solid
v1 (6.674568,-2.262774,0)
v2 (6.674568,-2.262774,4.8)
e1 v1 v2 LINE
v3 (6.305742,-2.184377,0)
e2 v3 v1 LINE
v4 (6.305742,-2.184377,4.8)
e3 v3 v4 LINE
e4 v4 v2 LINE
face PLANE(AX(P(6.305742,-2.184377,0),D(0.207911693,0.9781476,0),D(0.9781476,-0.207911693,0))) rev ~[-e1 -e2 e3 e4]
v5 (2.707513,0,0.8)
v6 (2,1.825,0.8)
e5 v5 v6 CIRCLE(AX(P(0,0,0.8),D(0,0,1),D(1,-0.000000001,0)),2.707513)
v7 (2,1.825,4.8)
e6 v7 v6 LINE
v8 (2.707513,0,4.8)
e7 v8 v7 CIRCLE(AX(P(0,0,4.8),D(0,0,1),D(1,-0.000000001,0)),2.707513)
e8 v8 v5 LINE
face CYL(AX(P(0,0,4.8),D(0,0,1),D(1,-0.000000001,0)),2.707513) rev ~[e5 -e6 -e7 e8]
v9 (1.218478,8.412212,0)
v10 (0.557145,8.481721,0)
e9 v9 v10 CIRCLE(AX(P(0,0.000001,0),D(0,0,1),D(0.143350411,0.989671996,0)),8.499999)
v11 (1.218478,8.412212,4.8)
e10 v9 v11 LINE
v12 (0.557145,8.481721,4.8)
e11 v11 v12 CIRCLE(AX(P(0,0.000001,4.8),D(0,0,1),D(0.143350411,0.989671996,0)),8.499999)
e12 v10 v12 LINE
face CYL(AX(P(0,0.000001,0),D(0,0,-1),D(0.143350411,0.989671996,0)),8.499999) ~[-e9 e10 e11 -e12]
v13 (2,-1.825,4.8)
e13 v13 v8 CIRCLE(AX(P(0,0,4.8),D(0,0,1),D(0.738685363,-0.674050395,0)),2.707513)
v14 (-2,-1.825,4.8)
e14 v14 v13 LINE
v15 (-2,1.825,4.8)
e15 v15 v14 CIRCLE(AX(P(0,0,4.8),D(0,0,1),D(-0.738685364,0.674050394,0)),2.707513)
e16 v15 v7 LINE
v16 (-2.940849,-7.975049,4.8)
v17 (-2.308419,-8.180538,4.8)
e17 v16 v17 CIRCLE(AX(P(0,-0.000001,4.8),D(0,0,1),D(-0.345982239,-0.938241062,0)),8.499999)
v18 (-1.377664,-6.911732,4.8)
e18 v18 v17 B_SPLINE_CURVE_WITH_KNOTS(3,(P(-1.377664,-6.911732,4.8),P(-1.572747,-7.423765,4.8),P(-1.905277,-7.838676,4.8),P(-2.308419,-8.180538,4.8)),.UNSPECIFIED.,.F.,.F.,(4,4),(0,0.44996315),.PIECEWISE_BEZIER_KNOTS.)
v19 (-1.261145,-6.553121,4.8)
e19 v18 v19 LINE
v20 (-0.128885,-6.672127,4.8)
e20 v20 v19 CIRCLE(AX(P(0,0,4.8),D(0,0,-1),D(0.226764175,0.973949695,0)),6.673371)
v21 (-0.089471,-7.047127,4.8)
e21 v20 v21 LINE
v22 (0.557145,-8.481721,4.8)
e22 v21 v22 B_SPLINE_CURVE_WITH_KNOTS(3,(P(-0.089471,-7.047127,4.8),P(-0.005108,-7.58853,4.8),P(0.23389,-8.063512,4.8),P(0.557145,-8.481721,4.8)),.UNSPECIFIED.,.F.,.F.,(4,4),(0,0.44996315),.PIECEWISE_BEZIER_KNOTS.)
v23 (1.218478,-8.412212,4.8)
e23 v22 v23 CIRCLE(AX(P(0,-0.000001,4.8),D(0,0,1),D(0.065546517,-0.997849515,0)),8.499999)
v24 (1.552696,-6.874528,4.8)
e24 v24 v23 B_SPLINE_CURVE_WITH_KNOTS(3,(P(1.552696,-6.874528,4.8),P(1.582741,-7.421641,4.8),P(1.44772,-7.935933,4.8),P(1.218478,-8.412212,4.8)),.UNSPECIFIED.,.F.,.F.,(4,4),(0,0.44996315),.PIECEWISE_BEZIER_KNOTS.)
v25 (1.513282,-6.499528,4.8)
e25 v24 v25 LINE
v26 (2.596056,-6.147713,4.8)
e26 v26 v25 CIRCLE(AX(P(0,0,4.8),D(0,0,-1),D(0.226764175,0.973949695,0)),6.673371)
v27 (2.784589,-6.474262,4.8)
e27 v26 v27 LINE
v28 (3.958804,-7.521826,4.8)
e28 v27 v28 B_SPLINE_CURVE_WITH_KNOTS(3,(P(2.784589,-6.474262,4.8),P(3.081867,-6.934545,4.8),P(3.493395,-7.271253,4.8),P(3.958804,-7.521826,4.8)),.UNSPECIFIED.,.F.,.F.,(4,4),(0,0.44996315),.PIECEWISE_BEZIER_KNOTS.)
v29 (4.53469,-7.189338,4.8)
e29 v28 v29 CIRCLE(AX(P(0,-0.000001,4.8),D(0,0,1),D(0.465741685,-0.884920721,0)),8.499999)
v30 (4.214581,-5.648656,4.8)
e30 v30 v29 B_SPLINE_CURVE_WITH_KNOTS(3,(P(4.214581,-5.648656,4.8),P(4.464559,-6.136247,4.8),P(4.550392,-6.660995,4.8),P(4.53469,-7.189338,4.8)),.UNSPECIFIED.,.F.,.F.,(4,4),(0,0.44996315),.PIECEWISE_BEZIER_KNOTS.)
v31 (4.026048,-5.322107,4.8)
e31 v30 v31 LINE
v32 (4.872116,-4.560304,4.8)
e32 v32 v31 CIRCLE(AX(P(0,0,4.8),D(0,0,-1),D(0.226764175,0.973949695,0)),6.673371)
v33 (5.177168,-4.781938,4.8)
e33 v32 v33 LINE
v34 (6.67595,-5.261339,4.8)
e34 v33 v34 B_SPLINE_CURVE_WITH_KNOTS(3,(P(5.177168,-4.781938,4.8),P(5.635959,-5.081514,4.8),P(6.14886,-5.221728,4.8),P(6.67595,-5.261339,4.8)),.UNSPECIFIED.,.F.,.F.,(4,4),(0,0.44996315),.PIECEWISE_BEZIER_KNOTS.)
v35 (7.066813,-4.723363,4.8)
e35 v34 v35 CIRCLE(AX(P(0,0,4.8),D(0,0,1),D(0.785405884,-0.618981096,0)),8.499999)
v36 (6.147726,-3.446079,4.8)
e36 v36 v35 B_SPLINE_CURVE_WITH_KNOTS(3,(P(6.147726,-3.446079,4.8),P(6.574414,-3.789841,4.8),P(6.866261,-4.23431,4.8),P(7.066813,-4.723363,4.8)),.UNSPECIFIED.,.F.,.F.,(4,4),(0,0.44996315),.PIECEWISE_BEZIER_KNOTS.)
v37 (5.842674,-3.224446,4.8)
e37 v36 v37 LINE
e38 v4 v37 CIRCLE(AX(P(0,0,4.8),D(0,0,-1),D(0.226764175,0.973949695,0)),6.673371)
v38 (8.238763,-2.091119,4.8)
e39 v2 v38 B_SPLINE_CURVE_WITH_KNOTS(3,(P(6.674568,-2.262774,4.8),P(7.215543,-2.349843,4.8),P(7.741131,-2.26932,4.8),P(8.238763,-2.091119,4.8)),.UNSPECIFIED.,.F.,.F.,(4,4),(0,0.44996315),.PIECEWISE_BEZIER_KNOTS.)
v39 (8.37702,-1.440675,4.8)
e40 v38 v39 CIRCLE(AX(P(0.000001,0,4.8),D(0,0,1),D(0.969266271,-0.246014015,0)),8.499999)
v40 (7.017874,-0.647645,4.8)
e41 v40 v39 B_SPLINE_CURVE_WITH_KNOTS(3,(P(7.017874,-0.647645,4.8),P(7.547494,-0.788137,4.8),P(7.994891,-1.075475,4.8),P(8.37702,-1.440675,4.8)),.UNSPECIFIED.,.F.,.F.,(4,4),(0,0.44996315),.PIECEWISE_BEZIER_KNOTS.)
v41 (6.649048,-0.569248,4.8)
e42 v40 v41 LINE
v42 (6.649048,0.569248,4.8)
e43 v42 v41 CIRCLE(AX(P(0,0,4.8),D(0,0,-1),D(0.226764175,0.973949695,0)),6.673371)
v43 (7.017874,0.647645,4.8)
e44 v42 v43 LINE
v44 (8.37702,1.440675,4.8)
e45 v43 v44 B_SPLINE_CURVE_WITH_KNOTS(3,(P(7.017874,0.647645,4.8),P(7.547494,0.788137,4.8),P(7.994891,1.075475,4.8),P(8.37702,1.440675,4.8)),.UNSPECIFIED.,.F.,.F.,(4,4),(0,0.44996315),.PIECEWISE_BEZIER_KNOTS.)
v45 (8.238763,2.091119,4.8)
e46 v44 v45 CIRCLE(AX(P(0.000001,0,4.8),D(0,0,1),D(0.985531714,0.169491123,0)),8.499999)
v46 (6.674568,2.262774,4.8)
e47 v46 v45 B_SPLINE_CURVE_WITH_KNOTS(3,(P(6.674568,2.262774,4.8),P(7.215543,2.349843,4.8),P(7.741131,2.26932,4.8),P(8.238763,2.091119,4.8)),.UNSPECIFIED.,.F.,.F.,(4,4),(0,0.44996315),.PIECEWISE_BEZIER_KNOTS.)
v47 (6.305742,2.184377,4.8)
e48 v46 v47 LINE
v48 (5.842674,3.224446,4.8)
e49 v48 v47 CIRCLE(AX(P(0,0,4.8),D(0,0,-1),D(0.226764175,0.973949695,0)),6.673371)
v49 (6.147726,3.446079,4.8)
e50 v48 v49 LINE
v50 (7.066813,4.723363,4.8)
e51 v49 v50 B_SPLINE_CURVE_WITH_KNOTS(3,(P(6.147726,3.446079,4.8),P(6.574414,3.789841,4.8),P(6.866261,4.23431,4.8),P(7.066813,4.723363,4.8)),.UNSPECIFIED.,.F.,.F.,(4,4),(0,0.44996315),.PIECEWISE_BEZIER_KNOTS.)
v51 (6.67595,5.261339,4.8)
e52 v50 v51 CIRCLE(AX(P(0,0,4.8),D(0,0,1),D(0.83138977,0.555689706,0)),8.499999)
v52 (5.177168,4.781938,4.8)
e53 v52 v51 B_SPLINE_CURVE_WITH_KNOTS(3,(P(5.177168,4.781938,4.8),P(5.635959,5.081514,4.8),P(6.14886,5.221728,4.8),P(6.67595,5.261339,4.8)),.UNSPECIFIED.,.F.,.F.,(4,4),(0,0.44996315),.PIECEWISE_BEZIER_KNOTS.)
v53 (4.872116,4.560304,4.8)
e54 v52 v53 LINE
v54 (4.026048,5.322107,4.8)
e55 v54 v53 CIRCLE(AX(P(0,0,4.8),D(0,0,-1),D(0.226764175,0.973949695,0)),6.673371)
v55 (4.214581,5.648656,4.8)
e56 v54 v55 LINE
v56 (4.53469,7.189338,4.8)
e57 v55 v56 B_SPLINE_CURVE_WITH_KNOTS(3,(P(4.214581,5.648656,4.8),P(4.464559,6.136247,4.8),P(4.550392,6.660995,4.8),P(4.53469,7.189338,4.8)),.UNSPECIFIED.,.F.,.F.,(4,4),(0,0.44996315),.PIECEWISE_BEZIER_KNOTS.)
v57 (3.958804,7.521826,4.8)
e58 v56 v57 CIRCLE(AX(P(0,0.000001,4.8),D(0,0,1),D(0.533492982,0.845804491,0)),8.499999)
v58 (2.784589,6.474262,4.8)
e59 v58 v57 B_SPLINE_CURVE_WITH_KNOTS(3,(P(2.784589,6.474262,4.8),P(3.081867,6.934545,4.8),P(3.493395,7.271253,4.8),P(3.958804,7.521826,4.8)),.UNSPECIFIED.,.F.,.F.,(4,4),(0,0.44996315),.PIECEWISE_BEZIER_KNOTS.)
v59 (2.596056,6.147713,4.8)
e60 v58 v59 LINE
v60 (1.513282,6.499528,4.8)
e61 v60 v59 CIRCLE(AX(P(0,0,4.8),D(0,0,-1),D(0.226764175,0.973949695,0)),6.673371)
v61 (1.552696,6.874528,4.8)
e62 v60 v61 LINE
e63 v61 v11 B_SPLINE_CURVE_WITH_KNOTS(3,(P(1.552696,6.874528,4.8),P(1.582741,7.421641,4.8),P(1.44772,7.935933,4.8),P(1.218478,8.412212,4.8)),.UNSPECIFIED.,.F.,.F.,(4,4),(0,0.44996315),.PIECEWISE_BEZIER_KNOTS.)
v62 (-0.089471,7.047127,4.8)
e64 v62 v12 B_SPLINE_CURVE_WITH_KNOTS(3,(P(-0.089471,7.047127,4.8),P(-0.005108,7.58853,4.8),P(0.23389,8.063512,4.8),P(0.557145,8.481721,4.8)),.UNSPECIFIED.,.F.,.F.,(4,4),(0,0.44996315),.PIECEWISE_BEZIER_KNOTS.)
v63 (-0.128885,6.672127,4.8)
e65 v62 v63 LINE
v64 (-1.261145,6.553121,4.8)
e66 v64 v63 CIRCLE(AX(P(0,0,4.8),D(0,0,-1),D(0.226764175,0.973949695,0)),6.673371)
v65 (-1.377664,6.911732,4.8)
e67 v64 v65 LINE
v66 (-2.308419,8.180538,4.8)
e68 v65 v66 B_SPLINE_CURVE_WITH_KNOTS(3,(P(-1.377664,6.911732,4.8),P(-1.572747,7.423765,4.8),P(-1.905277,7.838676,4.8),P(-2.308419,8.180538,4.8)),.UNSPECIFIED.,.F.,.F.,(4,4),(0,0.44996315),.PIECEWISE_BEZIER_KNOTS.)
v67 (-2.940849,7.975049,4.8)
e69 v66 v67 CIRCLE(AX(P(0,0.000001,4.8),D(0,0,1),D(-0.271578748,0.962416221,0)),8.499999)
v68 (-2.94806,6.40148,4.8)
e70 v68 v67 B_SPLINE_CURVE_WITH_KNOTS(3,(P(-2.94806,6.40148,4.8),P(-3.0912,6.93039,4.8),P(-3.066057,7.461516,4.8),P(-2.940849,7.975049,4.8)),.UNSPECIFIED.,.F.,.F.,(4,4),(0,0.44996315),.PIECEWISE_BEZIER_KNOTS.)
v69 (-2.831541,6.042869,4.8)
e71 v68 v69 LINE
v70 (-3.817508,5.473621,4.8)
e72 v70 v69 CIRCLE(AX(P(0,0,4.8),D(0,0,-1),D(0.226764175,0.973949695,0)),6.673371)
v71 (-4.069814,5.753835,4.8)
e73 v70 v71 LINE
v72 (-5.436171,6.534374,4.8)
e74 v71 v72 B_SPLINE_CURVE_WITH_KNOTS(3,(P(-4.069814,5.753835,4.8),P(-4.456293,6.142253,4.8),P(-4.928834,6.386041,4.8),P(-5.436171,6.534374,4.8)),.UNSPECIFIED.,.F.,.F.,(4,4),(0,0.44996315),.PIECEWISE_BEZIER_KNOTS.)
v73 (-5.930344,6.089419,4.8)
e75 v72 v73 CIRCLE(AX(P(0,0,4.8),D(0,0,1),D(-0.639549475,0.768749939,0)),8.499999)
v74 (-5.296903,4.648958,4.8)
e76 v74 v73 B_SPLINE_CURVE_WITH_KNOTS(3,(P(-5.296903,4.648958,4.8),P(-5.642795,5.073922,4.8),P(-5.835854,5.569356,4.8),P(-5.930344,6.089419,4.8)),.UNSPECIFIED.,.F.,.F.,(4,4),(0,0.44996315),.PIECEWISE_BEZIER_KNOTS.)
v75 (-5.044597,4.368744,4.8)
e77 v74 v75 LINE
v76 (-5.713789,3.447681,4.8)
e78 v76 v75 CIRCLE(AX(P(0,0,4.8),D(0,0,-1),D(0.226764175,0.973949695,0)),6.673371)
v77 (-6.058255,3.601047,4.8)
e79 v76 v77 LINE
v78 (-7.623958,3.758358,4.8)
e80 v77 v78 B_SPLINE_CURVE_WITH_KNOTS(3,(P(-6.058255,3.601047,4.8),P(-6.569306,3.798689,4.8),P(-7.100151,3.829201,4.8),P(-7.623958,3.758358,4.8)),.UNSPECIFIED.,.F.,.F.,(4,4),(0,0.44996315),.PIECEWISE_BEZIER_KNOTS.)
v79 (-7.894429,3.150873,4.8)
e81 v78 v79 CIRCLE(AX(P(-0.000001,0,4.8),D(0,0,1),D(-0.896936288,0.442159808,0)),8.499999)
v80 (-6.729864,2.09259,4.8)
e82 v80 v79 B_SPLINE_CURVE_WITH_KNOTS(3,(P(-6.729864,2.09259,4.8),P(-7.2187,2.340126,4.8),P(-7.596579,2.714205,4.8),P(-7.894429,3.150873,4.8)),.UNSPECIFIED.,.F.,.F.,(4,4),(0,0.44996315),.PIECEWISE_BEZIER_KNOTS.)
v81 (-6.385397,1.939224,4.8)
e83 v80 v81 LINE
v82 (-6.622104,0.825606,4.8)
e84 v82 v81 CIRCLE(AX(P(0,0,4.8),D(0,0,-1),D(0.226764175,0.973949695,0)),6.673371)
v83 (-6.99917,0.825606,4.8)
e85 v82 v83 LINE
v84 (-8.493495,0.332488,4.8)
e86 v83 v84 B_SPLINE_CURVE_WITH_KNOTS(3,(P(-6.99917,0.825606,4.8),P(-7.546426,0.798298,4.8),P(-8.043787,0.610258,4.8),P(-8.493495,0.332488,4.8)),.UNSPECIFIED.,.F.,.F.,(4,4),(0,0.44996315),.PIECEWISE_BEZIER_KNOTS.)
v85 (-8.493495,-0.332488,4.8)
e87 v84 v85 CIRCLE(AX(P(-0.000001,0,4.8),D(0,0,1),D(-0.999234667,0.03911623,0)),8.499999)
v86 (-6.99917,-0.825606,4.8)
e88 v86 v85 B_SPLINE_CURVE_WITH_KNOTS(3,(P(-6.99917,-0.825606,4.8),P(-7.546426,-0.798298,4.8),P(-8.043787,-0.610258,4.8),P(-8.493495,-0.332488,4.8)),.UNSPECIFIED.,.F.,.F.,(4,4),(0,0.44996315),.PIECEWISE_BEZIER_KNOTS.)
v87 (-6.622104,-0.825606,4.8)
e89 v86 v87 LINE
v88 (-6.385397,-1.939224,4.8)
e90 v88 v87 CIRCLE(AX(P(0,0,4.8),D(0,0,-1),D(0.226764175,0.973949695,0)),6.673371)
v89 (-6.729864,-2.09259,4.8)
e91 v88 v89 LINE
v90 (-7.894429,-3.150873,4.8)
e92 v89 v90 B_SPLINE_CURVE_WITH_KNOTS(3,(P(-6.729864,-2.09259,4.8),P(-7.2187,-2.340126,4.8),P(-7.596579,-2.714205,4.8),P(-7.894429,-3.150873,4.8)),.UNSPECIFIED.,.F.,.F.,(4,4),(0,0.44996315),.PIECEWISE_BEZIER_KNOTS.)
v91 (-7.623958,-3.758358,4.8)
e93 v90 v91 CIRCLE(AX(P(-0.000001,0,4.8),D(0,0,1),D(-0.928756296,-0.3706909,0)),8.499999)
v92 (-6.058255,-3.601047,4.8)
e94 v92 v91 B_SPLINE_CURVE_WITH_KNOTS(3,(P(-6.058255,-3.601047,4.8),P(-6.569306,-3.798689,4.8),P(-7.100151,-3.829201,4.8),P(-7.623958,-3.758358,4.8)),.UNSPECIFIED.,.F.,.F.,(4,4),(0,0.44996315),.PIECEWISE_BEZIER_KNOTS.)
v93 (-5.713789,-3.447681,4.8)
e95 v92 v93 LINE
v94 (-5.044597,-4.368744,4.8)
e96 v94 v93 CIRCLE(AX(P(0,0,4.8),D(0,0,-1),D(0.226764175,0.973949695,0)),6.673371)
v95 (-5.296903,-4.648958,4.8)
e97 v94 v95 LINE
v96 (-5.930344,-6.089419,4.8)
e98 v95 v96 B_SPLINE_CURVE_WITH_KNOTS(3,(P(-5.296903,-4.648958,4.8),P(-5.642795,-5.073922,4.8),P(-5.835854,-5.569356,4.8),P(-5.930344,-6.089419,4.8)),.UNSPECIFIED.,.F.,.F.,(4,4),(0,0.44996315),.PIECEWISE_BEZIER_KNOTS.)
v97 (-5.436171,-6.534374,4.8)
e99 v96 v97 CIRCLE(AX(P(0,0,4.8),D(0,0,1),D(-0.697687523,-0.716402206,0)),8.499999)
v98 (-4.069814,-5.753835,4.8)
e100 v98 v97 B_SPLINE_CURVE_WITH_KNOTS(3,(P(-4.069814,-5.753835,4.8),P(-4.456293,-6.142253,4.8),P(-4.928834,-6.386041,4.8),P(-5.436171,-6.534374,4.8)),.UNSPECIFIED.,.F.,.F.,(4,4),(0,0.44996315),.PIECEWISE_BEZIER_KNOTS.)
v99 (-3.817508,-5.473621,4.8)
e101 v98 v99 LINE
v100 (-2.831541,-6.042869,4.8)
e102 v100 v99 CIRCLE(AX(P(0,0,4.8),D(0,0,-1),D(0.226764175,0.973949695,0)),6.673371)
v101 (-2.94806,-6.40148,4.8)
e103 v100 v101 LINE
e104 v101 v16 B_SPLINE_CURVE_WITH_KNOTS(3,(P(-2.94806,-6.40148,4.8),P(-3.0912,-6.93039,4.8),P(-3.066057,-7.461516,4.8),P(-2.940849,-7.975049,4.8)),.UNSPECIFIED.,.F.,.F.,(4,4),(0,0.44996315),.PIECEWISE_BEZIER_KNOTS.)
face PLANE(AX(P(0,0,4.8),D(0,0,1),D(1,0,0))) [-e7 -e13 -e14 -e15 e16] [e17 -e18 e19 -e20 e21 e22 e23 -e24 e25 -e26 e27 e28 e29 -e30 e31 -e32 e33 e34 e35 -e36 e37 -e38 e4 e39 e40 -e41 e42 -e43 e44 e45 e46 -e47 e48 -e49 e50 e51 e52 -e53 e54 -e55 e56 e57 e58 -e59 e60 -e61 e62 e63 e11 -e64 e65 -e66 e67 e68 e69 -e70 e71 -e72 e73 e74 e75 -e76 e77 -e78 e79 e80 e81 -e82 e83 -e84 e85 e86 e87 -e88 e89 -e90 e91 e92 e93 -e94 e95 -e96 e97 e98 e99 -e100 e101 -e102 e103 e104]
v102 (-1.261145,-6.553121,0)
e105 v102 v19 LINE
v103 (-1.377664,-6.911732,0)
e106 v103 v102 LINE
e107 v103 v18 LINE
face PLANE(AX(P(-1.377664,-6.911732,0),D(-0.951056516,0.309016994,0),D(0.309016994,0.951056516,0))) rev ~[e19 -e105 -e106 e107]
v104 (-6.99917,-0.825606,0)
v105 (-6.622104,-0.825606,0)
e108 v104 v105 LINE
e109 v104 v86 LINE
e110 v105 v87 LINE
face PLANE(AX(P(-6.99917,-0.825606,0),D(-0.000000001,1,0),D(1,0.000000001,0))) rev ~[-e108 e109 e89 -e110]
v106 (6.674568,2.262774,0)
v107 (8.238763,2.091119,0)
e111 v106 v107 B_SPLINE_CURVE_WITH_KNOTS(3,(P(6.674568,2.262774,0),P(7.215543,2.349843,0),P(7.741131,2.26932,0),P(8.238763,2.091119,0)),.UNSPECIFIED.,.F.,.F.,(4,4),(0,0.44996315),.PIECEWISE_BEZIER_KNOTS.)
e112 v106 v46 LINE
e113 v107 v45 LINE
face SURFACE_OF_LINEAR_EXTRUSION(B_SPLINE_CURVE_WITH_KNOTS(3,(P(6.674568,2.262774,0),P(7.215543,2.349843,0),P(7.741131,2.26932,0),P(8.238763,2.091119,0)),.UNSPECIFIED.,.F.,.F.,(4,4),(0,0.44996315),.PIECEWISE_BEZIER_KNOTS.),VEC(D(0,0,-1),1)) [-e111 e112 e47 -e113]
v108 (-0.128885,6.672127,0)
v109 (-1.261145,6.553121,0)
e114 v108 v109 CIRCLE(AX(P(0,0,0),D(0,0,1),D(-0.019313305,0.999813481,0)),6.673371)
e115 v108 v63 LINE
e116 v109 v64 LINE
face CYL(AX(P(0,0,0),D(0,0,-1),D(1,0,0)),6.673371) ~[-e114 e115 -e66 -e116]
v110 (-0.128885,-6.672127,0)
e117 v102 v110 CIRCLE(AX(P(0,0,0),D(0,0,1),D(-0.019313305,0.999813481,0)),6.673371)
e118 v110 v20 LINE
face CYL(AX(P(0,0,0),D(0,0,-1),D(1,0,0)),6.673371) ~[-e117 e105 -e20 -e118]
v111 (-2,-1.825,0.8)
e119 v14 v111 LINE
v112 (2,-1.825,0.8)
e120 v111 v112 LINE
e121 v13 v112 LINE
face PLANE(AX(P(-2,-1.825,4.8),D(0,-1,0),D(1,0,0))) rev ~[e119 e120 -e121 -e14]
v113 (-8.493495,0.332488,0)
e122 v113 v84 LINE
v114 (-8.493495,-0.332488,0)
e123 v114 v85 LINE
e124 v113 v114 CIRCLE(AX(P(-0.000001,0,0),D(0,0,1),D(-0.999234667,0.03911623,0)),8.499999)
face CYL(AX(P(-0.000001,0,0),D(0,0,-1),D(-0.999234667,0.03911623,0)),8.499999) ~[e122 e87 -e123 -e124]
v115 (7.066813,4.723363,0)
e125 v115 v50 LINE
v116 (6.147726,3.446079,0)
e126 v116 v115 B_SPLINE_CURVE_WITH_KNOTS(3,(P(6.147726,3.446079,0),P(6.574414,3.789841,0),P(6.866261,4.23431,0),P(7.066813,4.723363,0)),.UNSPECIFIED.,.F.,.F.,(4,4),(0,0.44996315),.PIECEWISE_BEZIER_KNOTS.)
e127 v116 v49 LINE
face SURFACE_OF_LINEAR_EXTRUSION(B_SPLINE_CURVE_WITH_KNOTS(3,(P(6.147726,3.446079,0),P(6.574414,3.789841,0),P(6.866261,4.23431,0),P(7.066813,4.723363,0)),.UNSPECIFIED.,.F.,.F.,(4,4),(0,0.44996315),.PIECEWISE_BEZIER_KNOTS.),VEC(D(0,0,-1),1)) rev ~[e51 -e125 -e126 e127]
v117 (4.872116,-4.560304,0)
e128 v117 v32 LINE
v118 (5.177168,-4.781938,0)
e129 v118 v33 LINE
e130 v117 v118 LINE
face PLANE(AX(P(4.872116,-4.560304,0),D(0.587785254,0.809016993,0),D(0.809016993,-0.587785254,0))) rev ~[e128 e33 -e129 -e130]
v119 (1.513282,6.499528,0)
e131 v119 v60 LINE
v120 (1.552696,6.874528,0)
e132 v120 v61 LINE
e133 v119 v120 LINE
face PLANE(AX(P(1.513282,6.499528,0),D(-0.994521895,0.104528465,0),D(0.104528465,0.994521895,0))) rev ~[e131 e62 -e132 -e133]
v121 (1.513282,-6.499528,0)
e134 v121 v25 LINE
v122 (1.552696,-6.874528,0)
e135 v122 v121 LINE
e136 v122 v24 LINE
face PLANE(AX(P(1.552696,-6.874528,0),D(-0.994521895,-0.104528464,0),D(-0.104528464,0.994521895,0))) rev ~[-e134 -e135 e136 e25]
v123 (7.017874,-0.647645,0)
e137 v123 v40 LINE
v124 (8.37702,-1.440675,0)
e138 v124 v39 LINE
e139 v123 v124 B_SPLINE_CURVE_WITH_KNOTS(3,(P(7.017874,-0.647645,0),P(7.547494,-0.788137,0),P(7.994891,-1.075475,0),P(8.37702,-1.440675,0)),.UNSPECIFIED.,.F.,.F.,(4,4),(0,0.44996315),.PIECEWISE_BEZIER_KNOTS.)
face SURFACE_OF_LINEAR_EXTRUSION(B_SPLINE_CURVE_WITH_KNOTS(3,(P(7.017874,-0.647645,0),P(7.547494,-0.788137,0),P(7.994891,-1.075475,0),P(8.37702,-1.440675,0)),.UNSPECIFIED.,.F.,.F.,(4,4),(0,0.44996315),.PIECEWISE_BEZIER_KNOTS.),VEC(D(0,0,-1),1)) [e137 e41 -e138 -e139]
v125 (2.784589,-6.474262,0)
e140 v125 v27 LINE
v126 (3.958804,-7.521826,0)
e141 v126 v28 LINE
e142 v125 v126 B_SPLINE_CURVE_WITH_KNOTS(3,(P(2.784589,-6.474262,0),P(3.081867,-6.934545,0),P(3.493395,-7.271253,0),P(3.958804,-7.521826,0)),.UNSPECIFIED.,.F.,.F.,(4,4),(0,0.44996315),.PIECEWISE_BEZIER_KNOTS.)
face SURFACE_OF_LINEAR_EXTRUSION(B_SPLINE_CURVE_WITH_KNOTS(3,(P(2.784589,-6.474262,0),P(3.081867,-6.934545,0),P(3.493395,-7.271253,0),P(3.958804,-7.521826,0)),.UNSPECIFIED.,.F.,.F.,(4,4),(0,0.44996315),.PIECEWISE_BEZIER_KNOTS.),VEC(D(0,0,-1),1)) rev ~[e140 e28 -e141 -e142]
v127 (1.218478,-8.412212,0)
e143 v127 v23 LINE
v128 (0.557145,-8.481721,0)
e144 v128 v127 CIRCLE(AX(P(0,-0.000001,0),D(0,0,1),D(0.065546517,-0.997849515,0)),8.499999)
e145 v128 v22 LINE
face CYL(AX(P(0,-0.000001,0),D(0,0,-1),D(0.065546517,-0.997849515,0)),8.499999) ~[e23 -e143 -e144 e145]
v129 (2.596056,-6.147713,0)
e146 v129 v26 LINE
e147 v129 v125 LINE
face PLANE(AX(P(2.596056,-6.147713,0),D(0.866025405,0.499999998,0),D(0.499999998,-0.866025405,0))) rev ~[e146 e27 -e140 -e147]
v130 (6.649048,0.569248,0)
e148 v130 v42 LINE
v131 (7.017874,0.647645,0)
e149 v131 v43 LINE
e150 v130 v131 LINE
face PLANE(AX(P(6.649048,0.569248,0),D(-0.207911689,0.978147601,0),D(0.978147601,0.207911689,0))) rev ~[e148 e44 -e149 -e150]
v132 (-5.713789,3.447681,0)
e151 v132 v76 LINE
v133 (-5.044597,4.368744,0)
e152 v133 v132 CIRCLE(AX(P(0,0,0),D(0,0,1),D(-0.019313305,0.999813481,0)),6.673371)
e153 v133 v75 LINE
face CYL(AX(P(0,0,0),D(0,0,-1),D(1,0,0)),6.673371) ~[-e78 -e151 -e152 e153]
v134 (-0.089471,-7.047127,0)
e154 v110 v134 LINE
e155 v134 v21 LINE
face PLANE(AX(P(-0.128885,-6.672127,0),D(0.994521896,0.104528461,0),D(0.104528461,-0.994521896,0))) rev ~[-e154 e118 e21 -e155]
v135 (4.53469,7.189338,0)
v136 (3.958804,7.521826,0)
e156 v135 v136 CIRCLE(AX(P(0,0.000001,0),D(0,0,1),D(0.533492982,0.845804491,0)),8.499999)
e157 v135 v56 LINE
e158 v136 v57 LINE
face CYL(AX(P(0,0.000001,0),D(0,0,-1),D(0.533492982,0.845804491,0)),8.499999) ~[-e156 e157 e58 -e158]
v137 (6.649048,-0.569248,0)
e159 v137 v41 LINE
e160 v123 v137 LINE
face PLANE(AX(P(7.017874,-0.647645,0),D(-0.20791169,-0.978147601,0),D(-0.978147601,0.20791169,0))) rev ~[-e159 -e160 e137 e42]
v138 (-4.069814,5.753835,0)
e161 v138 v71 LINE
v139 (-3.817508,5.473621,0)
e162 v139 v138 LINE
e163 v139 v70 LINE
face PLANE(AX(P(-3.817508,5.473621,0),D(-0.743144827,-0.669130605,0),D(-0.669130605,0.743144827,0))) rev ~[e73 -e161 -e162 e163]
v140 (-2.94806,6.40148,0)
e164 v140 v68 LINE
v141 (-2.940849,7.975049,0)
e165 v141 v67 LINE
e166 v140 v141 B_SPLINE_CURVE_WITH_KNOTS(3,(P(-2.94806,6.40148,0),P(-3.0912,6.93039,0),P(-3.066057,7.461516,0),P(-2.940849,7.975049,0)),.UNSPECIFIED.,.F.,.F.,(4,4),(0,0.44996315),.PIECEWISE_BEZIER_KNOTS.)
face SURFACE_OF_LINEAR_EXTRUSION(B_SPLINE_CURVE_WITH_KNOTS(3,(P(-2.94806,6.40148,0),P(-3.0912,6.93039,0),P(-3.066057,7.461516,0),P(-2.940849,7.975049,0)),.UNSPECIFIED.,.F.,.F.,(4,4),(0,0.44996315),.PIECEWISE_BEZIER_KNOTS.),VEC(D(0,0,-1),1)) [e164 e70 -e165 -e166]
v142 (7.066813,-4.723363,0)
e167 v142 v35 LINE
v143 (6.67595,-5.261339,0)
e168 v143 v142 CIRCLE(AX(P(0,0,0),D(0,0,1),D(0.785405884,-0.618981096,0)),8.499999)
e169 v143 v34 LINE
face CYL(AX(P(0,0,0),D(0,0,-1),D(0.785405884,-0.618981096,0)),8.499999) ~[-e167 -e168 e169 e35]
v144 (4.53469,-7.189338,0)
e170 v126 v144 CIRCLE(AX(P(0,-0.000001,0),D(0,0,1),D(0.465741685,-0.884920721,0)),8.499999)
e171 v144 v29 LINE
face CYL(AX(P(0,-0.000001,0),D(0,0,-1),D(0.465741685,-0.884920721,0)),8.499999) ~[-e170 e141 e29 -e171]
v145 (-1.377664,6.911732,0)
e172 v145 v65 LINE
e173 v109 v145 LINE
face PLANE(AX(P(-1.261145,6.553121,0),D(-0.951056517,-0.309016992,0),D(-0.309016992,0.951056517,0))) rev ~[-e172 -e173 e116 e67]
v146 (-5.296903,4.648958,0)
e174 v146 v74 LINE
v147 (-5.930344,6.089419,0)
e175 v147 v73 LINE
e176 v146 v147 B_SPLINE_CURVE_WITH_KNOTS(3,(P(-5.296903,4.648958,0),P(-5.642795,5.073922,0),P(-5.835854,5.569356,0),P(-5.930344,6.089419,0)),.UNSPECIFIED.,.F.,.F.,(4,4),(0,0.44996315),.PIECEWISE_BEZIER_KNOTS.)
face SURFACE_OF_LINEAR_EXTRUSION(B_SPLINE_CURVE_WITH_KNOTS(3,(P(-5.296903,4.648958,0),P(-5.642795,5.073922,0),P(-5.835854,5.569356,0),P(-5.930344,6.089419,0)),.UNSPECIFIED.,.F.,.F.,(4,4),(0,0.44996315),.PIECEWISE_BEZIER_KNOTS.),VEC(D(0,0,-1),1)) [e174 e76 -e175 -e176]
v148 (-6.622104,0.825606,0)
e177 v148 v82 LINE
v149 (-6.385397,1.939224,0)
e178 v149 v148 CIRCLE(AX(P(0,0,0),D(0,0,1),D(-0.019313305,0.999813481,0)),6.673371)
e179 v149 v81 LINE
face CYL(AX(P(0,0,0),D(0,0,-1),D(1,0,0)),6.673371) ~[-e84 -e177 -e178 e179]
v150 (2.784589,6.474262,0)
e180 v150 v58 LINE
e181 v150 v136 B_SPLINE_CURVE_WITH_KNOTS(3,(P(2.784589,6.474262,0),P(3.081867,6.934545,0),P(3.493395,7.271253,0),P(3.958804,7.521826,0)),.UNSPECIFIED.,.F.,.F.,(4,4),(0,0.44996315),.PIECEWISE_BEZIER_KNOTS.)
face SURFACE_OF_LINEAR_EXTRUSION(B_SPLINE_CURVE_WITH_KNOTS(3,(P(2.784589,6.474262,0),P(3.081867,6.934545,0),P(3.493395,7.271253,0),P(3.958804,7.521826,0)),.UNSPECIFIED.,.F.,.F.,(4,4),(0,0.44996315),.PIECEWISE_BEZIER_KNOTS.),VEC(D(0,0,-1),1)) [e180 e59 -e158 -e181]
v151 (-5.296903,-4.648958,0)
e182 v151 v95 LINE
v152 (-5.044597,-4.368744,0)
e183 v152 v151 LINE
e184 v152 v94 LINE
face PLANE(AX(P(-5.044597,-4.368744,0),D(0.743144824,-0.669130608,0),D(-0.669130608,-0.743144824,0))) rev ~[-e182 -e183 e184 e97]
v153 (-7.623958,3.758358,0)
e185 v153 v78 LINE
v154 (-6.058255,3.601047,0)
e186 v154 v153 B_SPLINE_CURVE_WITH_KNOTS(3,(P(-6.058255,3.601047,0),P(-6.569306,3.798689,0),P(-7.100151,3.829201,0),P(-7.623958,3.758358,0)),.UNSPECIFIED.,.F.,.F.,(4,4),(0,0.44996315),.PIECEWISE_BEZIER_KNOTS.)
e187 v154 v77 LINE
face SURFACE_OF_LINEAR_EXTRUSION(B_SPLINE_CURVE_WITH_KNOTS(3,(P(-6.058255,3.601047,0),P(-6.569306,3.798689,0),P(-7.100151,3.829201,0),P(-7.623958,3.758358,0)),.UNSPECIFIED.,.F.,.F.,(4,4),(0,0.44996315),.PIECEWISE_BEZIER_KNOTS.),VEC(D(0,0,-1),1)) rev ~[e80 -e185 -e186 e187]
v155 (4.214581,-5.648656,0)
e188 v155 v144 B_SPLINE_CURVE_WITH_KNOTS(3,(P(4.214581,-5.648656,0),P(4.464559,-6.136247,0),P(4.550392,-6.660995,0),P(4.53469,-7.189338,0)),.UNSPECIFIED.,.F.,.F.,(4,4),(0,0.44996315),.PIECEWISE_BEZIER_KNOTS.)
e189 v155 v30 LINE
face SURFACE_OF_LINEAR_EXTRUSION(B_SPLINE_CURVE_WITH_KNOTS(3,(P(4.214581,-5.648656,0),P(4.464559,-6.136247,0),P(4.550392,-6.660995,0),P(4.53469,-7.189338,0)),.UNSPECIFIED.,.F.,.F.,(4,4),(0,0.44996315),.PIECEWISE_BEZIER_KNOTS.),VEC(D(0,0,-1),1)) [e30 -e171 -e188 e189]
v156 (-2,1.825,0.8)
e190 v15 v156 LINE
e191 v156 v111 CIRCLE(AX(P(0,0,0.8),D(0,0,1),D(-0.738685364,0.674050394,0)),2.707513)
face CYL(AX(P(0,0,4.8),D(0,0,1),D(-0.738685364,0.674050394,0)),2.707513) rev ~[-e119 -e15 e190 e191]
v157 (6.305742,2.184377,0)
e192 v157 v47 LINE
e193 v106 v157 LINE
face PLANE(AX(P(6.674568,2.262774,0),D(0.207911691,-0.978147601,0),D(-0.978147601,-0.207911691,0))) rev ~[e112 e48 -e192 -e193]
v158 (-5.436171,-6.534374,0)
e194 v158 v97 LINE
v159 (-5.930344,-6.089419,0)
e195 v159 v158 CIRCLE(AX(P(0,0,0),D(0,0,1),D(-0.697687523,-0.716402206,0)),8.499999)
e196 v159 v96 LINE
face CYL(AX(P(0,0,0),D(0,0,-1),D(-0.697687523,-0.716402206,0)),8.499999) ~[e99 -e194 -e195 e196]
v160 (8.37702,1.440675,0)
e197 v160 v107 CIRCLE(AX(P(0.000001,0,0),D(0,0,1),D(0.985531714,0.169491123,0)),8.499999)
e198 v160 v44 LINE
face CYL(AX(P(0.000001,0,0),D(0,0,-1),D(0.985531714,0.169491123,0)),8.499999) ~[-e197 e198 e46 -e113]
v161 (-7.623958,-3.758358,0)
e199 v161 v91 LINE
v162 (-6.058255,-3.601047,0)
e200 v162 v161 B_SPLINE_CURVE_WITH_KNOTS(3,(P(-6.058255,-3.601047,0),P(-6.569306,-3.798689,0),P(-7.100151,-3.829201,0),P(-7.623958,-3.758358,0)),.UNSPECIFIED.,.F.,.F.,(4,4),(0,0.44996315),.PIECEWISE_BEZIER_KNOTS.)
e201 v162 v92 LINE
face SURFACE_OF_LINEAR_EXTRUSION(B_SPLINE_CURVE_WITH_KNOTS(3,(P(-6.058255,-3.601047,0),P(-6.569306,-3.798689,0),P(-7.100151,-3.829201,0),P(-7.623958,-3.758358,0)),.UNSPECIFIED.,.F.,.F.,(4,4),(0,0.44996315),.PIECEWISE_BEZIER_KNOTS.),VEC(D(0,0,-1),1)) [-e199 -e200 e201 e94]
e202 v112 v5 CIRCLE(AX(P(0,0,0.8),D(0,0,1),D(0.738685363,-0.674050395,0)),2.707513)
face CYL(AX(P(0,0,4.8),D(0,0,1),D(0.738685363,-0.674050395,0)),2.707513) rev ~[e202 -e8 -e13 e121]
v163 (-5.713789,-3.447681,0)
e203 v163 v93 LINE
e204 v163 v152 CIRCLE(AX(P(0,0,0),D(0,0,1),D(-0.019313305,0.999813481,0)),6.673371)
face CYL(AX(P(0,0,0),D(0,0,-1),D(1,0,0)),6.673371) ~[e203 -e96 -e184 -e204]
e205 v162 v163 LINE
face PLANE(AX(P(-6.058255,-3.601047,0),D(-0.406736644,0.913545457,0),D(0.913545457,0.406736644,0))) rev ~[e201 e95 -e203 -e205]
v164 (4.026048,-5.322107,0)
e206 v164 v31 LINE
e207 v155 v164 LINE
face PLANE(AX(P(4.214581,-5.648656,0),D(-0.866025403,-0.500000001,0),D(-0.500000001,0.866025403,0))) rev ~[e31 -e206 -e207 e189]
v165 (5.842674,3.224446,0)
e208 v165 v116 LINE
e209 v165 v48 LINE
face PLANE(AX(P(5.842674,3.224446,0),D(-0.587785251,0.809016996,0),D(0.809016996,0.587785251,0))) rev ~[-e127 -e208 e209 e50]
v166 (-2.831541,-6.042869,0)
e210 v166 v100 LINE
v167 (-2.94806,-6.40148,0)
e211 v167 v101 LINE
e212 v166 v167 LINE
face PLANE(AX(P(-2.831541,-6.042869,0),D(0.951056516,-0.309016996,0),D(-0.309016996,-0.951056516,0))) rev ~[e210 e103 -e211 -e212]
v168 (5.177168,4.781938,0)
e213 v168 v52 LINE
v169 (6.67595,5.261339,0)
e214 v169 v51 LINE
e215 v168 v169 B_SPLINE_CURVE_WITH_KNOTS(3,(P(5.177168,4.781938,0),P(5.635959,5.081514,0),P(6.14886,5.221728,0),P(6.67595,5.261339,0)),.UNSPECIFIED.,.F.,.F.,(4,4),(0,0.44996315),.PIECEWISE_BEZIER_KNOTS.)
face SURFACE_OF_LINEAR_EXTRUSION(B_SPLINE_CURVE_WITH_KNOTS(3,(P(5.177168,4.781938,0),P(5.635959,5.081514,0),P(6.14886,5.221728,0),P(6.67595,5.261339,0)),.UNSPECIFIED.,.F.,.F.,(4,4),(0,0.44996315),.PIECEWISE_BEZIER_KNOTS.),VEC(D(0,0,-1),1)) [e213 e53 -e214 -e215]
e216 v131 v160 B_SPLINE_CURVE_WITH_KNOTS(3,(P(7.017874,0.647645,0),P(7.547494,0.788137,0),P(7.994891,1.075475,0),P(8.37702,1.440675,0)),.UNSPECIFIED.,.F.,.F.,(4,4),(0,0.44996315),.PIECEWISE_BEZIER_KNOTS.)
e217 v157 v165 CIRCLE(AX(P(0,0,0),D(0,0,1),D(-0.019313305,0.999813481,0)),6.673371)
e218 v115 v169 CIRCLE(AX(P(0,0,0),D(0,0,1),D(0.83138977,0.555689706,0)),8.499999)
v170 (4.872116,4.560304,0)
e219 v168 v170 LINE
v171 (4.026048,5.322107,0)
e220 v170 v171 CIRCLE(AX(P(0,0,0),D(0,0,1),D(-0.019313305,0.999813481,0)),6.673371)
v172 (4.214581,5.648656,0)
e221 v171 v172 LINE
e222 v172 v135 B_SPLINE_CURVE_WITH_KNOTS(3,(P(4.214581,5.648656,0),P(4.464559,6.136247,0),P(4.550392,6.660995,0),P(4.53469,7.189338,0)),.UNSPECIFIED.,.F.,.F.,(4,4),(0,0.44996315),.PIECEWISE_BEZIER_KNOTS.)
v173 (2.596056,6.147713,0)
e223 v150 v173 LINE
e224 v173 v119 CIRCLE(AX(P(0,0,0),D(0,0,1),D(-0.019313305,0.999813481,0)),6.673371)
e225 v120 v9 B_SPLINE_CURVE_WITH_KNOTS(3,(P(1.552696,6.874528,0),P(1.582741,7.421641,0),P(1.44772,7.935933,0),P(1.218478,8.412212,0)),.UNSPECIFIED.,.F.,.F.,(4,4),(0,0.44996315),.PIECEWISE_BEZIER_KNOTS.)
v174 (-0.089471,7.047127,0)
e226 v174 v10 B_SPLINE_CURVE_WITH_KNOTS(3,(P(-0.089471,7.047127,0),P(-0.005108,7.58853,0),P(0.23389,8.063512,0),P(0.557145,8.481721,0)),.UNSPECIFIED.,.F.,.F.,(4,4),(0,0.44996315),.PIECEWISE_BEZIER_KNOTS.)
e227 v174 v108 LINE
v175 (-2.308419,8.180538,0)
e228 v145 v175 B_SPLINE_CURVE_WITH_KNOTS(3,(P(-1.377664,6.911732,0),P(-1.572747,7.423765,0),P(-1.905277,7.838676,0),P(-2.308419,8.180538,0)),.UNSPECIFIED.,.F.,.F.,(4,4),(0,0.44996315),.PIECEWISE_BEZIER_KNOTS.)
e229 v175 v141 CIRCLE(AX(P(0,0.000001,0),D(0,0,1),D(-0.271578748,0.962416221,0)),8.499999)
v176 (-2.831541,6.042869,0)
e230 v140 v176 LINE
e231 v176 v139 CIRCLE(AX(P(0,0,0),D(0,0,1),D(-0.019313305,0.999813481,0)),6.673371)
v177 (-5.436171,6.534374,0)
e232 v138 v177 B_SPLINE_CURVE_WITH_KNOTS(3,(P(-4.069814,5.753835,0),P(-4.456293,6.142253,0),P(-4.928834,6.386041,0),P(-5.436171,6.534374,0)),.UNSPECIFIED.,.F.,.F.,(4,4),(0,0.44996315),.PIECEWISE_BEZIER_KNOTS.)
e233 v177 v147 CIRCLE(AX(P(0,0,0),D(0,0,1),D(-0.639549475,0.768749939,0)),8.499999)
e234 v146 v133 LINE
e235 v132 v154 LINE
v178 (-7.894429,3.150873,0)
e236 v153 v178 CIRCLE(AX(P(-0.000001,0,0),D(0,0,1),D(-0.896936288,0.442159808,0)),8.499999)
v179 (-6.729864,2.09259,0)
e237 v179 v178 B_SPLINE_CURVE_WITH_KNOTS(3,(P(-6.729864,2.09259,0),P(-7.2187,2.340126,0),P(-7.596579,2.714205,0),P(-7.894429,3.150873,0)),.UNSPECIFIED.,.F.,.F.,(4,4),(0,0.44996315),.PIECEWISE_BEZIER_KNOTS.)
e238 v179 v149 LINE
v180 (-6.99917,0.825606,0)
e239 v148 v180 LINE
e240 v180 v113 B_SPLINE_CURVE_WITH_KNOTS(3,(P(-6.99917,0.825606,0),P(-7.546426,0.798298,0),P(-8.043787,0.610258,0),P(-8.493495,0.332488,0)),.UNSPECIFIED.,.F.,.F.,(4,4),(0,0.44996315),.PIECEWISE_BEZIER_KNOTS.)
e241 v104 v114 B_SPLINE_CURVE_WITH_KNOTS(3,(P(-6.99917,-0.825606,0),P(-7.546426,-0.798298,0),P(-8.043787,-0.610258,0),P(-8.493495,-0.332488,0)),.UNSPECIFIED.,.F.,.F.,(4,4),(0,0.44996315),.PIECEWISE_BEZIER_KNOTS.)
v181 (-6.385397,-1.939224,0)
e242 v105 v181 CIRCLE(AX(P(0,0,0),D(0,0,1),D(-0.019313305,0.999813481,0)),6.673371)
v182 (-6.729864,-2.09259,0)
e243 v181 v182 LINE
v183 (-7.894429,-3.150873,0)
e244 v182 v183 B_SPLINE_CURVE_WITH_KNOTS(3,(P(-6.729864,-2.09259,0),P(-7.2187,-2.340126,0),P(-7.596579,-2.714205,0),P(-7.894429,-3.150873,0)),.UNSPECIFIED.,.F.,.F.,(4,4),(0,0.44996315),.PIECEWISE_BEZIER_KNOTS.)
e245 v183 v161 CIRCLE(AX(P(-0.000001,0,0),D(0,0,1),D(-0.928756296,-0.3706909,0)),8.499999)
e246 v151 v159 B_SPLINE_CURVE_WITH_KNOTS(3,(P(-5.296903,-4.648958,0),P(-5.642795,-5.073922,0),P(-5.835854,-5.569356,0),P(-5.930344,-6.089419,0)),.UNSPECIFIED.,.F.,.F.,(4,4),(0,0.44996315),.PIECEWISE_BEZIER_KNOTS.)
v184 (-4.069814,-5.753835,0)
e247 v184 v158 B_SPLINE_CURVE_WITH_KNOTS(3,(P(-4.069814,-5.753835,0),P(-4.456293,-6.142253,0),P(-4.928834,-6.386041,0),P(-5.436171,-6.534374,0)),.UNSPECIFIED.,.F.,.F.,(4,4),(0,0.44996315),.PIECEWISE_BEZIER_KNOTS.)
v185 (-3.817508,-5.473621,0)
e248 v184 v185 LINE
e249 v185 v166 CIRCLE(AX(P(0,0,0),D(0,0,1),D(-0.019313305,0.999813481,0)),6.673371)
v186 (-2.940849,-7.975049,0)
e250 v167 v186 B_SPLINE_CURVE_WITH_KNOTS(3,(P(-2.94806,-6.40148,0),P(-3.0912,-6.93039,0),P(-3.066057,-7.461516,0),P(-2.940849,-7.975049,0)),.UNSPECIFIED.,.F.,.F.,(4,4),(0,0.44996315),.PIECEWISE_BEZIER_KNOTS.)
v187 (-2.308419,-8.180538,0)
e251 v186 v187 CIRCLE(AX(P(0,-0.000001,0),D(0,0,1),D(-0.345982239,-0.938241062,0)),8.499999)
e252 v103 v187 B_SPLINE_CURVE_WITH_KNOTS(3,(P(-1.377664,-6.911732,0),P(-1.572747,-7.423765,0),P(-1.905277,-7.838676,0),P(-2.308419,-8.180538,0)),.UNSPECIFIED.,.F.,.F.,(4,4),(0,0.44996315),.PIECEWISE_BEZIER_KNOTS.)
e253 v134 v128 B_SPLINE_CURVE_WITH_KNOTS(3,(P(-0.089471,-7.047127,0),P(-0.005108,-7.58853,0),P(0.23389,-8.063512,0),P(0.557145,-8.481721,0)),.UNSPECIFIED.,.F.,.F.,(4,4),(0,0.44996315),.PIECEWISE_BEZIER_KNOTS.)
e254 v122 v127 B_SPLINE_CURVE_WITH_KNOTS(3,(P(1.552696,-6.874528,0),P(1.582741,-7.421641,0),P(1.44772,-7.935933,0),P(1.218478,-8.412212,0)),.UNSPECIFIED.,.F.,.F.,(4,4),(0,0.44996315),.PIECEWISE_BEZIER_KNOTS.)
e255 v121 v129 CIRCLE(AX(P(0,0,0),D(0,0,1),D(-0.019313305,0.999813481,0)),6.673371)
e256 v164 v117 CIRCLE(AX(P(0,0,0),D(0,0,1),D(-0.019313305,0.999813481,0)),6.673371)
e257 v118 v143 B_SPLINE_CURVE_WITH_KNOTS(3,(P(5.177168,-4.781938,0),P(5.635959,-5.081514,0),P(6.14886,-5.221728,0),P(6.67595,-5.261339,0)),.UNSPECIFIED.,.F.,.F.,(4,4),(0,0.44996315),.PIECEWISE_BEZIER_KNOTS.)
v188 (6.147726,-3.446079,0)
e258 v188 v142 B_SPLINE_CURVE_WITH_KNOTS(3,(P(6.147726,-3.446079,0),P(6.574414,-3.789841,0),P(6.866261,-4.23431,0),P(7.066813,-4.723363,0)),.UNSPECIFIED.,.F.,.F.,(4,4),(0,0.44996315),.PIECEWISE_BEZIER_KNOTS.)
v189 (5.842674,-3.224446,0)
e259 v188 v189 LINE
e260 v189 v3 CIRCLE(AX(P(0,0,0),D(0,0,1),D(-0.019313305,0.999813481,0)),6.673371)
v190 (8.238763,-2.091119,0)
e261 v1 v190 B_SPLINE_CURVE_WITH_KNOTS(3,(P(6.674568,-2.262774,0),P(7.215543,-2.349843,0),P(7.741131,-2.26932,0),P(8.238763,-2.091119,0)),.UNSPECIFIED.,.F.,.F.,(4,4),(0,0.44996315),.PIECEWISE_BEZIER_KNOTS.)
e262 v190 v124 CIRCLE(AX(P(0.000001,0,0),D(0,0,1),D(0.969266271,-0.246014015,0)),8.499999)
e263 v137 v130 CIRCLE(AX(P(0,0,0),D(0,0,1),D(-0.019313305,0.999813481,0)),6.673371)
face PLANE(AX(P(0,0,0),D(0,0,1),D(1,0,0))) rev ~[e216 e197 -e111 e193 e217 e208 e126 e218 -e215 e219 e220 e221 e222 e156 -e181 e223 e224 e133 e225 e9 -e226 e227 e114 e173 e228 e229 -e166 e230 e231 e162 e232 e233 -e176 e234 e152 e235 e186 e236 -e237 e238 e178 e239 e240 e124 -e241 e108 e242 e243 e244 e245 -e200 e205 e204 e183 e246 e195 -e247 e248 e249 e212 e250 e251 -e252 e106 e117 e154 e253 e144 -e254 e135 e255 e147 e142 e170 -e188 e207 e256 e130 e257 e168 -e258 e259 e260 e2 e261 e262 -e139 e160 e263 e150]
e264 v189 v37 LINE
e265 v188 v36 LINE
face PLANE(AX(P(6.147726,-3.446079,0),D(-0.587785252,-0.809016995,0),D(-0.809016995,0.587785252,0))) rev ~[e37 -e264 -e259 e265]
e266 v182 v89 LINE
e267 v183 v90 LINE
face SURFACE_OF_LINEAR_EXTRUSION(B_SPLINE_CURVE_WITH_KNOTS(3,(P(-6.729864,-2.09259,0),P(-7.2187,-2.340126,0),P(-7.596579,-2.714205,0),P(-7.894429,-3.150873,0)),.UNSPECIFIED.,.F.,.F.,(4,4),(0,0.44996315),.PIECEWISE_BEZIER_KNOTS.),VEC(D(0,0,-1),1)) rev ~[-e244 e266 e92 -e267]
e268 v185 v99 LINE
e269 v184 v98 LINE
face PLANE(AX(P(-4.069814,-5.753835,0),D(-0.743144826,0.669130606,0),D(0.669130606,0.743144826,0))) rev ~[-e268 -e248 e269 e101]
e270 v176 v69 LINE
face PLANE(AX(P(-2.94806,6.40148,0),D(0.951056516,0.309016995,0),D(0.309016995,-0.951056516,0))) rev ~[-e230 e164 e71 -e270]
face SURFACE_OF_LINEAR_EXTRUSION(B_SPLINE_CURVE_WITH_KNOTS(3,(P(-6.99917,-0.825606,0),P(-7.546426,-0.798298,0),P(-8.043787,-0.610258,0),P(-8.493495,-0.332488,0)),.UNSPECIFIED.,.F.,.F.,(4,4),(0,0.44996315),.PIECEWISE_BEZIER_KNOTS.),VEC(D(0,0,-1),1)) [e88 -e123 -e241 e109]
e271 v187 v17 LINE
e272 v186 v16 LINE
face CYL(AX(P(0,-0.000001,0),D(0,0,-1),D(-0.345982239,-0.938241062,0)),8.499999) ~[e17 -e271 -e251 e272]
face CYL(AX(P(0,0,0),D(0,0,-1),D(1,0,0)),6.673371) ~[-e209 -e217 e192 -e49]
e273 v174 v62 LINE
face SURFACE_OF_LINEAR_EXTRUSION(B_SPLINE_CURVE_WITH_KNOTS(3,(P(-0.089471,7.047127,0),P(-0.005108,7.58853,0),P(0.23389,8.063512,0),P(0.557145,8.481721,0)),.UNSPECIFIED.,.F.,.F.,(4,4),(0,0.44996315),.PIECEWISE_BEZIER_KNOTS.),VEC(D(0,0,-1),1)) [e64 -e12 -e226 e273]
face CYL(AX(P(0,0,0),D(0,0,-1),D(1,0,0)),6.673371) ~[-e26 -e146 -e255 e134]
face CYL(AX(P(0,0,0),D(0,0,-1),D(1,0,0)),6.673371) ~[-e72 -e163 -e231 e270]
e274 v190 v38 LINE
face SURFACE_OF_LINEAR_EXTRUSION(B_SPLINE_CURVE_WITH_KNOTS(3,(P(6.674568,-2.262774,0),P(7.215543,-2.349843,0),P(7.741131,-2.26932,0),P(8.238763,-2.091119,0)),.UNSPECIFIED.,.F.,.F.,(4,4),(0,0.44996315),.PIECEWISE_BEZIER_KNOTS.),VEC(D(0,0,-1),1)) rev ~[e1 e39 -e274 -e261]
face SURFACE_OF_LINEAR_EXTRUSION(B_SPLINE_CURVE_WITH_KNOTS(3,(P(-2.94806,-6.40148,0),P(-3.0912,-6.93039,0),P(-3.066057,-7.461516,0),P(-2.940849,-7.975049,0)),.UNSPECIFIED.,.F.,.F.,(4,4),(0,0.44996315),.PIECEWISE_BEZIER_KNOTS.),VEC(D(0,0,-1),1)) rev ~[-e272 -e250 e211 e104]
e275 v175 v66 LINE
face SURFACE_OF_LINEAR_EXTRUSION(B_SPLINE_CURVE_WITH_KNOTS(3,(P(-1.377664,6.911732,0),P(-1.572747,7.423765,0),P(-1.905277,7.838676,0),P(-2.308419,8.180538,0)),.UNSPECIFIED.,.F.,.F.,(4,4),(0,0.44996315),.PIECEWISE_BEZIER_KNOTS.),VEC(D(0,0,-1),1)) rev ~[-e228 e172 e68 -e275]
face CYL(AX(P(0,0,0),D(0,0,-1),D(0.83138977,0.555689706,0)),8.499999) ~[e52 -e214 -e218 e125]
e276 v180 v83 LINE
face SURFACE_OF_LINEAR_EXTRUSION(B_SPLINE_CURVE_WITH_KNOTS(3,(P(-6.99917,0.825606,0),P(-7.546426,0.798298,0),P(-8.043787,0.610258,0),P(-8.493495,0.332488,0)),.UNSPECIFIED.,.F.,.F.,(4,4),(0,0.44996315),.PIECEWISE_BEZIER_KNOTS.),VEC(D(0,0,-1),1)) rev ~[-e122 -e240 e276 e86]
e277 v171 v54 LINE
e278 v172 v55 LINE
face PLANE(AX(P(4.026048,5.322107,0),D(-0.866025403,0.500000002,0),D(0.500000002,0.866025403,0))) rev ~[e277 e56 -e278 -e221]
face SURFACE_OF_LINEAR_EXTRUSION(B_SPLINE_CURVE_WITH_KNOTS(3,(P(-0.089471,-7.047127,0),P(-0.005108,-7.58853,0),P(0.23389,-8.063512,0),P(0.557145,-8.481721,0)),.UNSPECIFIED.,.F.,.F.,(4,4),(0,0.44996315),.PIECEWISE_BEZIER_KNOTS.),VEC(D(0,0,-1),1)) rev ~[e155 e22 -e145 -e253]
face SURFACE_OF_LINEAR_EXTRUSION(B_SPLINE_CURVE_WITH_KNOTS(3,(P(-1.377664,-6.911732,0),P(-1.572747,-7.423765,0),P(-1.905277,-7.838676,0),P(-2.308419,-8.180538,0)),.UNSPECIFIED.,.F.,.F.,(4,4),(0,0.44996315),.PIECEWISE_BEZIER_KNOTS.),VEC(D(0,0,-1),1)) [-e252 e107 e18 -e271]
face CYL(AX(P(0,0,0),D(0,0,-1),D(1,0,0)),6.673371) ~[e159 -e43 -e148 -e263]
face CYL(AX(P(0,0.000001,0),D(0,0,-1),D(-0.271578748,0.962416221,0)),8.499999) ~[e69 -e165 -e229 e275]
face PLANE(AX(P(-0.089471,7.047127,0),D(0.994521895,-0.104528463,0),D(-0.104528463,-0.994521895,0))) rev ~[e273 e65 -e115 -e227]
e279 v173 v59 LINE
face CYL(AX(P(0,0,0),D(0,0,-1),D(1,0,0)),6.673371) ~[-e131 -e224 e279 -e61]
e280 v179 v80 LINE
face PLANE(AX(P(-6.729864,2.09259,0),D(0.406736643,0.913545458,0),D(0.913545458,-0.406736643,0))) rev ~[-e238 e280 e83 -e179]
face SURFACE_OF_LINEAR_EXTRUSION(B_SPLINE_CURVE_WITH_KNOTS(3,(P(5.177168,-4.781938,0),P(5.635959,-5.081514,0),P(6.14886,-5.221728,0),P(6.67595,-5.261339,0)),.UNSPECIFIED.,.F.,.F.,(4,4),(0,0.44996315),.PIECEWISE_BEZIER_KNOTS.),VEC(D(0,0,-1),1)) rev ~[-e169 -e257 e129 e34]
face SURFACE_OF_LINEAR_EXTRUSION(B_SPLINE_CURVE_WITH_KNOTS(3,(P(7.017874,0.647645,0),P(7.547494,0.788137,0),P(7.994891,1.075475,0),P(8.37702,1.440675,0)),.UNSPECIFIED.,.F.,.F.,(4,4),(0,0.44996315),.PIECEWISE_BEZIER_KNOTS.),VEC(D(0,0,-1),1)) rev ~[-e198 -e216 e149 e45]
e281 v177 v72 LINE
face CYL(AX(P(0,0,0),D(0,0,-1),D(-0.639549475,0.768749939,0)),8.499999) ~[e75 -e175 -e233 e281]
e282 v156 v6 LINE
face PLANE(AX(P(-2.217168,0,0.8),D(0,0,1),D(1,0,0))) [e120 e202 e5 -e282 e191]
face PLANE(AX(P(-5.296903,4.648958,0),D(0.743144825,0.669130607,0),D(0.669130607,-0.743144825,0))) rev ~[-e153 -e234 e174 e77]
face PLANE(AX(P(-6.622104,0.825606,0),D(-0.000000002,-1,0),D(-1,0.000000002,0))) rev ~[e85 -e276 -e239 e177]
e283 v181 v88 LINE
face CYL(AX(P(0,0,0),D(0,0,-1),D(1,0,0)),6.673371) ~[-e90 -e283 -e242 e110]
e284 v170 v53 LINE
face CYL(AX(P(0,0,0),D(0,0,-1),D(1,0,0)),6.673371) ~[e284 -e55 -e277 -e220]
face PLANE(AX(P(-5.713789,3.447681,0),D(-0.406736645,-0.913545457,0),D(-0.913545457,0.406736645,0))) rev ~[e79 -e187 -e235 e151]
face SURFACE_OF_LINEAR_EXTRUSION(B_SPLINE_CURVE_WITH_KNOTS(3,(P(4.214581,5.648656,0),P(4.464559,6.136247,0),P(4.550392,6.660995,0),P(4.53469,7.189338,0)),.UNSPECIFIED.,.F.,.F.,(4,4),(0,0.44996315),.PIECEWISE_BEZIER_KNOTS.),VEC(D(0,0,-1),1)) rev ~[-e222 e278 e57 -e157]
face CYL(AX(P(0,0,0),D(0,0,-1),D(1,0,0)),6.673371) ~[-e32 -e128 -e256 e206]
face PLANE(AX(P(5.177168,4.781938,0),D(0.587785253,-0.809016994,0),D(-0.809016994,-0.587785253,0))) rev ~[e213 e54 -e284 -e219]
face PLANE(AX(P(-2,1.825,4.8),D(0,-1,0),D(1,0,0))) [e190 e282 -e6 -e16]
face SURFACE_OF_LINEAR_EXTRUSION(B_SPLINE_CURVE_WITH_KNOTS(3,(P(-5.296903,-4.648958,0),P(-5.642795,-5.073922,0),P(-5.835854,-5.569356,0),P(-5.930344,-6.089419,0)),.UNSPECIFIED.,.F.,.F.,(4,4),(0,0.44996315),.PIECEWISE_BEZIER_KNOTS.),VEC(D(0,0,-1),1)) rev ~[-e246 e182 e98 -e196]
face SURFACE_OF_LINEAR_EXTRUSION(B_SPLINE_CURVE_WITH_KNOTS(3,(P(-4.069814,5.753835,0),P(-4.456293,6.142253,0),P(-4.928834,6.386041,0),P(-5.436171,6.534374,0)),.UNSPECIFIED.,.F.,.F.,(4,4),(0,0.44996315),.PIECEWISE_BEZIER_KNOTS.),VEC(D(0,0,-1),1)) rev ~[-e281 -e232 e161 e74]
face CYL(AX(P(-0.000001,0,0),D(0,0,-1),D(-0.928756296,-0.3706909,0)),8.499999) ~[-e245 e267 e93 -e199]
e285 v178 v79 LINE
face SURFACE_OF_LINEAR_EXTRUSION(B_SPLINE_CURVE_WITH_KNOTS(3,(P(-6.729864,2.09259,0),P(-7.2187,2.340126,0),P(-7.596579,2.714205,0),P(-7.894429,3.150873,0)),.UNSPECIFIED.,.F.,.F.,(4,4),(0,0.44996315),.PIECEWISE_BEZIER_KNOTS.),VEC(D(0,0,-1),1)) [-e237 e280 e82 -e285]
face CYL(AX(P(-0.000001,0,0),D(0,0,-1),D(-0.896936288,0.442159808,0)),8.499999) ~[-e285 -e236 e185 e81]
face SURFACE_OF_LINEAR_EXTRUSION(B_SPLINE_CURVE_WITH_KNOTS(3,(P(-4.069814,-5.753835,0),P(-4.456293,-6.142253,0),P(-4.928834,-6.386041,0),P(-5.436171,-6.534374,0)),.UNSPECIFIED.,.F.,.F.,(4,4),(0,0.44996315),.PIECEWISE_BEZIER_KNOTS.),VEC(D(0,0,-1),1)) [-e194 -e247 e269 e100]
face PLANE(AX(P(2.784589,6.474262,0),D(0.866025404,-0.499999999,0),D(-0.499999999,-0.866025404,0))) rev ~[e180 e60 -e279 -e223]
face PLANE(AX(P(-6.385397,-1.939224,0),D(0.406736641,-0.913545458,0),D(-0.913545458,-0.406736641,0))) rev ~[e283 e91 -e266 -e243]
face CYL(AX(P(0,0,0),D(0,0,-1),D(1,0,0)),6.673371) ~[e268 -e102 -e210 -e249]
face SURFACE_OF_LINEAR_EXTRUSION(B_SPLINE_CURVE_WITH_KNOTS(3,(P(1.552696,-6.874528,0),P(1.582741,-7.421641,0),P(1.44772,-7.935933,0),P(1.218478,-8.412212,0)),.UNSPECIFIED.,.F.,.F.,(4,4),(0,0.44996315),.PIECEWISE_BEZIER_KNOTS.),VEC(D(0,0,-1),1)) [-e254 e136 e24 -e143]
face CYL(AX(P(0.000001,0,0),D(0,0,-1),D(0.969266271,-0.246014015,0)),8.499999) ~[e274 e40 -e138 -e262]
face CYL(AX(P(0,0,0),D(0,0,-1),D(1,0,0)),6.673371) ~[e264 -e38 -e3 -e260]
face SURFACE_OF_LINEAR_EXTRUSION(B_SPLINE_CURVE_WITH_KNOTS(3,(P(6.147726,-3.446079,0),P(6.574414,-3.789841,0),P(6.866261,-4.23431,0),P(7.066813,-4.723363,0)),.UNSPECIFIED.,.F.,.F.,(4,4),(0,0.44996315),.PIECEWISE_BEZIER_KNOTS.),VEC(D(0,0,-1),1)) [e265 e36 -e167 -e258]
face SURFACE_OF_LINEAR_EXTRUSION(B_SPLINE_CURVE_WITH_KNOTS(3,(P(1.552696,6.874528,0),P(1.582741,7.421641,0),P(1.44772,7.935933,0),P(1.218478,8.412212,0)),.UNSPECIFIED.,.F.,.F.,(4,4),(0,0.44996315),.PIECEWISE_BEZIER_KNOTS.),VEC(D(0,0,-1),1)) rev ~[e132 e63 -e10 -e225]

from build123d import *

# Parameters (mm, degrees)
SKETCH12_R         = 6.673371428
CORE_CYL_DEPTH     = 4.8
TOOTH_EX_DEPTH     = 4.8
CIRPATTERN1_COUNT  = 15
SKETCH13_W         = 4
SKETCH13_H         = 3.65
CUT_EXTRUDE1_DEPTH = 4


with BuildPart() as part:
    # Sketch12 → core_cyl (new body)
    with BuildSketch(Plane.XY):
        Circle(SKETCH12_R)
    extrude(amount=CORE_CYL_DEPTH)

    # tooth → tooth_ex (add)
    with BuildSketch(Plane.XY):
        with BuildLine():
            add(Edge.make_bspline(
                [(-0.089470773, 7.047126715), (-0.005108471, 7.588530401), (0.233889853, 8.063511638), (0.55714541, 8.481720874)],
                knots=[0, 0, 0, 0, 0.44996315, 0.44996315, 0.44996315, 0.44996315], degree=3))
            Line((-0.089470773, 7.047126715), (-0.128884861, 6.672126715))
            ThreePointArc((-0.128884861, 6.672126715), (0.69755726, 6.636814001), (1.513281564, 6.499528069))
            Line((1.513281564, 6.499528069), (1.552695653, 6.874528069))
            add(Edge.make_bspline(
                [(1.552695653, 6.874528069), (1.582741025, 7.421640695), (1.44771954, 7.935932997), (1.218478482, 8.412211968)],
                knots=[0, 0, 0, 0, 0.44996315, 0.44996315, 0.44996315, 0.44996315], degree=3))
            ThreePointArc((1.218478482, 8.412211968), (0.888491938, 8.453436111), (0.55714541, 8.481720874))
        make_face()
    tooth_ex = extrude(amount=TOOTH_EX_DEPTH)

    # CirPattern1: tooth_ex ×15 about axis
    cirpattern1_axis = Axis((0, 0, 0), (0, 0, 1))
    for i in range(1, CIRPATTERN1_COUNT):
        add(tooth_ex.rotate(cirpattern1_axis, i * 360 / CIRPATTERN1_COUNT))

    # Sketch13 → Cut-Extrude1 (cut)
    with BuildSketch(Plane.XY.offset(4.8)):
        with BuildLine():
            Line((-2, -1.825), (-2, 1.825))
            ThreePointArc((-2, 1.825), (-2.707512696, 0), (-2, -1.825))
        make_face()
        Rectangle(SKETCH13_W, SKETCH13_H)
        with BuildLine():
            ThreePointArc((2.707512696, 0), (2.524445523, 0.97867247), (2, 1.825))
            Line((2, 1.825), (2, -1.825))
            ThreePointArc((2, -1.825), (2.524445523, -0.97867247), (2.707512696, 0))
        make_face()
    extrude(amount=-CUT_EXTRUDE1_DEPTH, mode=Mode.SUBTRACT)


solid = part.part
